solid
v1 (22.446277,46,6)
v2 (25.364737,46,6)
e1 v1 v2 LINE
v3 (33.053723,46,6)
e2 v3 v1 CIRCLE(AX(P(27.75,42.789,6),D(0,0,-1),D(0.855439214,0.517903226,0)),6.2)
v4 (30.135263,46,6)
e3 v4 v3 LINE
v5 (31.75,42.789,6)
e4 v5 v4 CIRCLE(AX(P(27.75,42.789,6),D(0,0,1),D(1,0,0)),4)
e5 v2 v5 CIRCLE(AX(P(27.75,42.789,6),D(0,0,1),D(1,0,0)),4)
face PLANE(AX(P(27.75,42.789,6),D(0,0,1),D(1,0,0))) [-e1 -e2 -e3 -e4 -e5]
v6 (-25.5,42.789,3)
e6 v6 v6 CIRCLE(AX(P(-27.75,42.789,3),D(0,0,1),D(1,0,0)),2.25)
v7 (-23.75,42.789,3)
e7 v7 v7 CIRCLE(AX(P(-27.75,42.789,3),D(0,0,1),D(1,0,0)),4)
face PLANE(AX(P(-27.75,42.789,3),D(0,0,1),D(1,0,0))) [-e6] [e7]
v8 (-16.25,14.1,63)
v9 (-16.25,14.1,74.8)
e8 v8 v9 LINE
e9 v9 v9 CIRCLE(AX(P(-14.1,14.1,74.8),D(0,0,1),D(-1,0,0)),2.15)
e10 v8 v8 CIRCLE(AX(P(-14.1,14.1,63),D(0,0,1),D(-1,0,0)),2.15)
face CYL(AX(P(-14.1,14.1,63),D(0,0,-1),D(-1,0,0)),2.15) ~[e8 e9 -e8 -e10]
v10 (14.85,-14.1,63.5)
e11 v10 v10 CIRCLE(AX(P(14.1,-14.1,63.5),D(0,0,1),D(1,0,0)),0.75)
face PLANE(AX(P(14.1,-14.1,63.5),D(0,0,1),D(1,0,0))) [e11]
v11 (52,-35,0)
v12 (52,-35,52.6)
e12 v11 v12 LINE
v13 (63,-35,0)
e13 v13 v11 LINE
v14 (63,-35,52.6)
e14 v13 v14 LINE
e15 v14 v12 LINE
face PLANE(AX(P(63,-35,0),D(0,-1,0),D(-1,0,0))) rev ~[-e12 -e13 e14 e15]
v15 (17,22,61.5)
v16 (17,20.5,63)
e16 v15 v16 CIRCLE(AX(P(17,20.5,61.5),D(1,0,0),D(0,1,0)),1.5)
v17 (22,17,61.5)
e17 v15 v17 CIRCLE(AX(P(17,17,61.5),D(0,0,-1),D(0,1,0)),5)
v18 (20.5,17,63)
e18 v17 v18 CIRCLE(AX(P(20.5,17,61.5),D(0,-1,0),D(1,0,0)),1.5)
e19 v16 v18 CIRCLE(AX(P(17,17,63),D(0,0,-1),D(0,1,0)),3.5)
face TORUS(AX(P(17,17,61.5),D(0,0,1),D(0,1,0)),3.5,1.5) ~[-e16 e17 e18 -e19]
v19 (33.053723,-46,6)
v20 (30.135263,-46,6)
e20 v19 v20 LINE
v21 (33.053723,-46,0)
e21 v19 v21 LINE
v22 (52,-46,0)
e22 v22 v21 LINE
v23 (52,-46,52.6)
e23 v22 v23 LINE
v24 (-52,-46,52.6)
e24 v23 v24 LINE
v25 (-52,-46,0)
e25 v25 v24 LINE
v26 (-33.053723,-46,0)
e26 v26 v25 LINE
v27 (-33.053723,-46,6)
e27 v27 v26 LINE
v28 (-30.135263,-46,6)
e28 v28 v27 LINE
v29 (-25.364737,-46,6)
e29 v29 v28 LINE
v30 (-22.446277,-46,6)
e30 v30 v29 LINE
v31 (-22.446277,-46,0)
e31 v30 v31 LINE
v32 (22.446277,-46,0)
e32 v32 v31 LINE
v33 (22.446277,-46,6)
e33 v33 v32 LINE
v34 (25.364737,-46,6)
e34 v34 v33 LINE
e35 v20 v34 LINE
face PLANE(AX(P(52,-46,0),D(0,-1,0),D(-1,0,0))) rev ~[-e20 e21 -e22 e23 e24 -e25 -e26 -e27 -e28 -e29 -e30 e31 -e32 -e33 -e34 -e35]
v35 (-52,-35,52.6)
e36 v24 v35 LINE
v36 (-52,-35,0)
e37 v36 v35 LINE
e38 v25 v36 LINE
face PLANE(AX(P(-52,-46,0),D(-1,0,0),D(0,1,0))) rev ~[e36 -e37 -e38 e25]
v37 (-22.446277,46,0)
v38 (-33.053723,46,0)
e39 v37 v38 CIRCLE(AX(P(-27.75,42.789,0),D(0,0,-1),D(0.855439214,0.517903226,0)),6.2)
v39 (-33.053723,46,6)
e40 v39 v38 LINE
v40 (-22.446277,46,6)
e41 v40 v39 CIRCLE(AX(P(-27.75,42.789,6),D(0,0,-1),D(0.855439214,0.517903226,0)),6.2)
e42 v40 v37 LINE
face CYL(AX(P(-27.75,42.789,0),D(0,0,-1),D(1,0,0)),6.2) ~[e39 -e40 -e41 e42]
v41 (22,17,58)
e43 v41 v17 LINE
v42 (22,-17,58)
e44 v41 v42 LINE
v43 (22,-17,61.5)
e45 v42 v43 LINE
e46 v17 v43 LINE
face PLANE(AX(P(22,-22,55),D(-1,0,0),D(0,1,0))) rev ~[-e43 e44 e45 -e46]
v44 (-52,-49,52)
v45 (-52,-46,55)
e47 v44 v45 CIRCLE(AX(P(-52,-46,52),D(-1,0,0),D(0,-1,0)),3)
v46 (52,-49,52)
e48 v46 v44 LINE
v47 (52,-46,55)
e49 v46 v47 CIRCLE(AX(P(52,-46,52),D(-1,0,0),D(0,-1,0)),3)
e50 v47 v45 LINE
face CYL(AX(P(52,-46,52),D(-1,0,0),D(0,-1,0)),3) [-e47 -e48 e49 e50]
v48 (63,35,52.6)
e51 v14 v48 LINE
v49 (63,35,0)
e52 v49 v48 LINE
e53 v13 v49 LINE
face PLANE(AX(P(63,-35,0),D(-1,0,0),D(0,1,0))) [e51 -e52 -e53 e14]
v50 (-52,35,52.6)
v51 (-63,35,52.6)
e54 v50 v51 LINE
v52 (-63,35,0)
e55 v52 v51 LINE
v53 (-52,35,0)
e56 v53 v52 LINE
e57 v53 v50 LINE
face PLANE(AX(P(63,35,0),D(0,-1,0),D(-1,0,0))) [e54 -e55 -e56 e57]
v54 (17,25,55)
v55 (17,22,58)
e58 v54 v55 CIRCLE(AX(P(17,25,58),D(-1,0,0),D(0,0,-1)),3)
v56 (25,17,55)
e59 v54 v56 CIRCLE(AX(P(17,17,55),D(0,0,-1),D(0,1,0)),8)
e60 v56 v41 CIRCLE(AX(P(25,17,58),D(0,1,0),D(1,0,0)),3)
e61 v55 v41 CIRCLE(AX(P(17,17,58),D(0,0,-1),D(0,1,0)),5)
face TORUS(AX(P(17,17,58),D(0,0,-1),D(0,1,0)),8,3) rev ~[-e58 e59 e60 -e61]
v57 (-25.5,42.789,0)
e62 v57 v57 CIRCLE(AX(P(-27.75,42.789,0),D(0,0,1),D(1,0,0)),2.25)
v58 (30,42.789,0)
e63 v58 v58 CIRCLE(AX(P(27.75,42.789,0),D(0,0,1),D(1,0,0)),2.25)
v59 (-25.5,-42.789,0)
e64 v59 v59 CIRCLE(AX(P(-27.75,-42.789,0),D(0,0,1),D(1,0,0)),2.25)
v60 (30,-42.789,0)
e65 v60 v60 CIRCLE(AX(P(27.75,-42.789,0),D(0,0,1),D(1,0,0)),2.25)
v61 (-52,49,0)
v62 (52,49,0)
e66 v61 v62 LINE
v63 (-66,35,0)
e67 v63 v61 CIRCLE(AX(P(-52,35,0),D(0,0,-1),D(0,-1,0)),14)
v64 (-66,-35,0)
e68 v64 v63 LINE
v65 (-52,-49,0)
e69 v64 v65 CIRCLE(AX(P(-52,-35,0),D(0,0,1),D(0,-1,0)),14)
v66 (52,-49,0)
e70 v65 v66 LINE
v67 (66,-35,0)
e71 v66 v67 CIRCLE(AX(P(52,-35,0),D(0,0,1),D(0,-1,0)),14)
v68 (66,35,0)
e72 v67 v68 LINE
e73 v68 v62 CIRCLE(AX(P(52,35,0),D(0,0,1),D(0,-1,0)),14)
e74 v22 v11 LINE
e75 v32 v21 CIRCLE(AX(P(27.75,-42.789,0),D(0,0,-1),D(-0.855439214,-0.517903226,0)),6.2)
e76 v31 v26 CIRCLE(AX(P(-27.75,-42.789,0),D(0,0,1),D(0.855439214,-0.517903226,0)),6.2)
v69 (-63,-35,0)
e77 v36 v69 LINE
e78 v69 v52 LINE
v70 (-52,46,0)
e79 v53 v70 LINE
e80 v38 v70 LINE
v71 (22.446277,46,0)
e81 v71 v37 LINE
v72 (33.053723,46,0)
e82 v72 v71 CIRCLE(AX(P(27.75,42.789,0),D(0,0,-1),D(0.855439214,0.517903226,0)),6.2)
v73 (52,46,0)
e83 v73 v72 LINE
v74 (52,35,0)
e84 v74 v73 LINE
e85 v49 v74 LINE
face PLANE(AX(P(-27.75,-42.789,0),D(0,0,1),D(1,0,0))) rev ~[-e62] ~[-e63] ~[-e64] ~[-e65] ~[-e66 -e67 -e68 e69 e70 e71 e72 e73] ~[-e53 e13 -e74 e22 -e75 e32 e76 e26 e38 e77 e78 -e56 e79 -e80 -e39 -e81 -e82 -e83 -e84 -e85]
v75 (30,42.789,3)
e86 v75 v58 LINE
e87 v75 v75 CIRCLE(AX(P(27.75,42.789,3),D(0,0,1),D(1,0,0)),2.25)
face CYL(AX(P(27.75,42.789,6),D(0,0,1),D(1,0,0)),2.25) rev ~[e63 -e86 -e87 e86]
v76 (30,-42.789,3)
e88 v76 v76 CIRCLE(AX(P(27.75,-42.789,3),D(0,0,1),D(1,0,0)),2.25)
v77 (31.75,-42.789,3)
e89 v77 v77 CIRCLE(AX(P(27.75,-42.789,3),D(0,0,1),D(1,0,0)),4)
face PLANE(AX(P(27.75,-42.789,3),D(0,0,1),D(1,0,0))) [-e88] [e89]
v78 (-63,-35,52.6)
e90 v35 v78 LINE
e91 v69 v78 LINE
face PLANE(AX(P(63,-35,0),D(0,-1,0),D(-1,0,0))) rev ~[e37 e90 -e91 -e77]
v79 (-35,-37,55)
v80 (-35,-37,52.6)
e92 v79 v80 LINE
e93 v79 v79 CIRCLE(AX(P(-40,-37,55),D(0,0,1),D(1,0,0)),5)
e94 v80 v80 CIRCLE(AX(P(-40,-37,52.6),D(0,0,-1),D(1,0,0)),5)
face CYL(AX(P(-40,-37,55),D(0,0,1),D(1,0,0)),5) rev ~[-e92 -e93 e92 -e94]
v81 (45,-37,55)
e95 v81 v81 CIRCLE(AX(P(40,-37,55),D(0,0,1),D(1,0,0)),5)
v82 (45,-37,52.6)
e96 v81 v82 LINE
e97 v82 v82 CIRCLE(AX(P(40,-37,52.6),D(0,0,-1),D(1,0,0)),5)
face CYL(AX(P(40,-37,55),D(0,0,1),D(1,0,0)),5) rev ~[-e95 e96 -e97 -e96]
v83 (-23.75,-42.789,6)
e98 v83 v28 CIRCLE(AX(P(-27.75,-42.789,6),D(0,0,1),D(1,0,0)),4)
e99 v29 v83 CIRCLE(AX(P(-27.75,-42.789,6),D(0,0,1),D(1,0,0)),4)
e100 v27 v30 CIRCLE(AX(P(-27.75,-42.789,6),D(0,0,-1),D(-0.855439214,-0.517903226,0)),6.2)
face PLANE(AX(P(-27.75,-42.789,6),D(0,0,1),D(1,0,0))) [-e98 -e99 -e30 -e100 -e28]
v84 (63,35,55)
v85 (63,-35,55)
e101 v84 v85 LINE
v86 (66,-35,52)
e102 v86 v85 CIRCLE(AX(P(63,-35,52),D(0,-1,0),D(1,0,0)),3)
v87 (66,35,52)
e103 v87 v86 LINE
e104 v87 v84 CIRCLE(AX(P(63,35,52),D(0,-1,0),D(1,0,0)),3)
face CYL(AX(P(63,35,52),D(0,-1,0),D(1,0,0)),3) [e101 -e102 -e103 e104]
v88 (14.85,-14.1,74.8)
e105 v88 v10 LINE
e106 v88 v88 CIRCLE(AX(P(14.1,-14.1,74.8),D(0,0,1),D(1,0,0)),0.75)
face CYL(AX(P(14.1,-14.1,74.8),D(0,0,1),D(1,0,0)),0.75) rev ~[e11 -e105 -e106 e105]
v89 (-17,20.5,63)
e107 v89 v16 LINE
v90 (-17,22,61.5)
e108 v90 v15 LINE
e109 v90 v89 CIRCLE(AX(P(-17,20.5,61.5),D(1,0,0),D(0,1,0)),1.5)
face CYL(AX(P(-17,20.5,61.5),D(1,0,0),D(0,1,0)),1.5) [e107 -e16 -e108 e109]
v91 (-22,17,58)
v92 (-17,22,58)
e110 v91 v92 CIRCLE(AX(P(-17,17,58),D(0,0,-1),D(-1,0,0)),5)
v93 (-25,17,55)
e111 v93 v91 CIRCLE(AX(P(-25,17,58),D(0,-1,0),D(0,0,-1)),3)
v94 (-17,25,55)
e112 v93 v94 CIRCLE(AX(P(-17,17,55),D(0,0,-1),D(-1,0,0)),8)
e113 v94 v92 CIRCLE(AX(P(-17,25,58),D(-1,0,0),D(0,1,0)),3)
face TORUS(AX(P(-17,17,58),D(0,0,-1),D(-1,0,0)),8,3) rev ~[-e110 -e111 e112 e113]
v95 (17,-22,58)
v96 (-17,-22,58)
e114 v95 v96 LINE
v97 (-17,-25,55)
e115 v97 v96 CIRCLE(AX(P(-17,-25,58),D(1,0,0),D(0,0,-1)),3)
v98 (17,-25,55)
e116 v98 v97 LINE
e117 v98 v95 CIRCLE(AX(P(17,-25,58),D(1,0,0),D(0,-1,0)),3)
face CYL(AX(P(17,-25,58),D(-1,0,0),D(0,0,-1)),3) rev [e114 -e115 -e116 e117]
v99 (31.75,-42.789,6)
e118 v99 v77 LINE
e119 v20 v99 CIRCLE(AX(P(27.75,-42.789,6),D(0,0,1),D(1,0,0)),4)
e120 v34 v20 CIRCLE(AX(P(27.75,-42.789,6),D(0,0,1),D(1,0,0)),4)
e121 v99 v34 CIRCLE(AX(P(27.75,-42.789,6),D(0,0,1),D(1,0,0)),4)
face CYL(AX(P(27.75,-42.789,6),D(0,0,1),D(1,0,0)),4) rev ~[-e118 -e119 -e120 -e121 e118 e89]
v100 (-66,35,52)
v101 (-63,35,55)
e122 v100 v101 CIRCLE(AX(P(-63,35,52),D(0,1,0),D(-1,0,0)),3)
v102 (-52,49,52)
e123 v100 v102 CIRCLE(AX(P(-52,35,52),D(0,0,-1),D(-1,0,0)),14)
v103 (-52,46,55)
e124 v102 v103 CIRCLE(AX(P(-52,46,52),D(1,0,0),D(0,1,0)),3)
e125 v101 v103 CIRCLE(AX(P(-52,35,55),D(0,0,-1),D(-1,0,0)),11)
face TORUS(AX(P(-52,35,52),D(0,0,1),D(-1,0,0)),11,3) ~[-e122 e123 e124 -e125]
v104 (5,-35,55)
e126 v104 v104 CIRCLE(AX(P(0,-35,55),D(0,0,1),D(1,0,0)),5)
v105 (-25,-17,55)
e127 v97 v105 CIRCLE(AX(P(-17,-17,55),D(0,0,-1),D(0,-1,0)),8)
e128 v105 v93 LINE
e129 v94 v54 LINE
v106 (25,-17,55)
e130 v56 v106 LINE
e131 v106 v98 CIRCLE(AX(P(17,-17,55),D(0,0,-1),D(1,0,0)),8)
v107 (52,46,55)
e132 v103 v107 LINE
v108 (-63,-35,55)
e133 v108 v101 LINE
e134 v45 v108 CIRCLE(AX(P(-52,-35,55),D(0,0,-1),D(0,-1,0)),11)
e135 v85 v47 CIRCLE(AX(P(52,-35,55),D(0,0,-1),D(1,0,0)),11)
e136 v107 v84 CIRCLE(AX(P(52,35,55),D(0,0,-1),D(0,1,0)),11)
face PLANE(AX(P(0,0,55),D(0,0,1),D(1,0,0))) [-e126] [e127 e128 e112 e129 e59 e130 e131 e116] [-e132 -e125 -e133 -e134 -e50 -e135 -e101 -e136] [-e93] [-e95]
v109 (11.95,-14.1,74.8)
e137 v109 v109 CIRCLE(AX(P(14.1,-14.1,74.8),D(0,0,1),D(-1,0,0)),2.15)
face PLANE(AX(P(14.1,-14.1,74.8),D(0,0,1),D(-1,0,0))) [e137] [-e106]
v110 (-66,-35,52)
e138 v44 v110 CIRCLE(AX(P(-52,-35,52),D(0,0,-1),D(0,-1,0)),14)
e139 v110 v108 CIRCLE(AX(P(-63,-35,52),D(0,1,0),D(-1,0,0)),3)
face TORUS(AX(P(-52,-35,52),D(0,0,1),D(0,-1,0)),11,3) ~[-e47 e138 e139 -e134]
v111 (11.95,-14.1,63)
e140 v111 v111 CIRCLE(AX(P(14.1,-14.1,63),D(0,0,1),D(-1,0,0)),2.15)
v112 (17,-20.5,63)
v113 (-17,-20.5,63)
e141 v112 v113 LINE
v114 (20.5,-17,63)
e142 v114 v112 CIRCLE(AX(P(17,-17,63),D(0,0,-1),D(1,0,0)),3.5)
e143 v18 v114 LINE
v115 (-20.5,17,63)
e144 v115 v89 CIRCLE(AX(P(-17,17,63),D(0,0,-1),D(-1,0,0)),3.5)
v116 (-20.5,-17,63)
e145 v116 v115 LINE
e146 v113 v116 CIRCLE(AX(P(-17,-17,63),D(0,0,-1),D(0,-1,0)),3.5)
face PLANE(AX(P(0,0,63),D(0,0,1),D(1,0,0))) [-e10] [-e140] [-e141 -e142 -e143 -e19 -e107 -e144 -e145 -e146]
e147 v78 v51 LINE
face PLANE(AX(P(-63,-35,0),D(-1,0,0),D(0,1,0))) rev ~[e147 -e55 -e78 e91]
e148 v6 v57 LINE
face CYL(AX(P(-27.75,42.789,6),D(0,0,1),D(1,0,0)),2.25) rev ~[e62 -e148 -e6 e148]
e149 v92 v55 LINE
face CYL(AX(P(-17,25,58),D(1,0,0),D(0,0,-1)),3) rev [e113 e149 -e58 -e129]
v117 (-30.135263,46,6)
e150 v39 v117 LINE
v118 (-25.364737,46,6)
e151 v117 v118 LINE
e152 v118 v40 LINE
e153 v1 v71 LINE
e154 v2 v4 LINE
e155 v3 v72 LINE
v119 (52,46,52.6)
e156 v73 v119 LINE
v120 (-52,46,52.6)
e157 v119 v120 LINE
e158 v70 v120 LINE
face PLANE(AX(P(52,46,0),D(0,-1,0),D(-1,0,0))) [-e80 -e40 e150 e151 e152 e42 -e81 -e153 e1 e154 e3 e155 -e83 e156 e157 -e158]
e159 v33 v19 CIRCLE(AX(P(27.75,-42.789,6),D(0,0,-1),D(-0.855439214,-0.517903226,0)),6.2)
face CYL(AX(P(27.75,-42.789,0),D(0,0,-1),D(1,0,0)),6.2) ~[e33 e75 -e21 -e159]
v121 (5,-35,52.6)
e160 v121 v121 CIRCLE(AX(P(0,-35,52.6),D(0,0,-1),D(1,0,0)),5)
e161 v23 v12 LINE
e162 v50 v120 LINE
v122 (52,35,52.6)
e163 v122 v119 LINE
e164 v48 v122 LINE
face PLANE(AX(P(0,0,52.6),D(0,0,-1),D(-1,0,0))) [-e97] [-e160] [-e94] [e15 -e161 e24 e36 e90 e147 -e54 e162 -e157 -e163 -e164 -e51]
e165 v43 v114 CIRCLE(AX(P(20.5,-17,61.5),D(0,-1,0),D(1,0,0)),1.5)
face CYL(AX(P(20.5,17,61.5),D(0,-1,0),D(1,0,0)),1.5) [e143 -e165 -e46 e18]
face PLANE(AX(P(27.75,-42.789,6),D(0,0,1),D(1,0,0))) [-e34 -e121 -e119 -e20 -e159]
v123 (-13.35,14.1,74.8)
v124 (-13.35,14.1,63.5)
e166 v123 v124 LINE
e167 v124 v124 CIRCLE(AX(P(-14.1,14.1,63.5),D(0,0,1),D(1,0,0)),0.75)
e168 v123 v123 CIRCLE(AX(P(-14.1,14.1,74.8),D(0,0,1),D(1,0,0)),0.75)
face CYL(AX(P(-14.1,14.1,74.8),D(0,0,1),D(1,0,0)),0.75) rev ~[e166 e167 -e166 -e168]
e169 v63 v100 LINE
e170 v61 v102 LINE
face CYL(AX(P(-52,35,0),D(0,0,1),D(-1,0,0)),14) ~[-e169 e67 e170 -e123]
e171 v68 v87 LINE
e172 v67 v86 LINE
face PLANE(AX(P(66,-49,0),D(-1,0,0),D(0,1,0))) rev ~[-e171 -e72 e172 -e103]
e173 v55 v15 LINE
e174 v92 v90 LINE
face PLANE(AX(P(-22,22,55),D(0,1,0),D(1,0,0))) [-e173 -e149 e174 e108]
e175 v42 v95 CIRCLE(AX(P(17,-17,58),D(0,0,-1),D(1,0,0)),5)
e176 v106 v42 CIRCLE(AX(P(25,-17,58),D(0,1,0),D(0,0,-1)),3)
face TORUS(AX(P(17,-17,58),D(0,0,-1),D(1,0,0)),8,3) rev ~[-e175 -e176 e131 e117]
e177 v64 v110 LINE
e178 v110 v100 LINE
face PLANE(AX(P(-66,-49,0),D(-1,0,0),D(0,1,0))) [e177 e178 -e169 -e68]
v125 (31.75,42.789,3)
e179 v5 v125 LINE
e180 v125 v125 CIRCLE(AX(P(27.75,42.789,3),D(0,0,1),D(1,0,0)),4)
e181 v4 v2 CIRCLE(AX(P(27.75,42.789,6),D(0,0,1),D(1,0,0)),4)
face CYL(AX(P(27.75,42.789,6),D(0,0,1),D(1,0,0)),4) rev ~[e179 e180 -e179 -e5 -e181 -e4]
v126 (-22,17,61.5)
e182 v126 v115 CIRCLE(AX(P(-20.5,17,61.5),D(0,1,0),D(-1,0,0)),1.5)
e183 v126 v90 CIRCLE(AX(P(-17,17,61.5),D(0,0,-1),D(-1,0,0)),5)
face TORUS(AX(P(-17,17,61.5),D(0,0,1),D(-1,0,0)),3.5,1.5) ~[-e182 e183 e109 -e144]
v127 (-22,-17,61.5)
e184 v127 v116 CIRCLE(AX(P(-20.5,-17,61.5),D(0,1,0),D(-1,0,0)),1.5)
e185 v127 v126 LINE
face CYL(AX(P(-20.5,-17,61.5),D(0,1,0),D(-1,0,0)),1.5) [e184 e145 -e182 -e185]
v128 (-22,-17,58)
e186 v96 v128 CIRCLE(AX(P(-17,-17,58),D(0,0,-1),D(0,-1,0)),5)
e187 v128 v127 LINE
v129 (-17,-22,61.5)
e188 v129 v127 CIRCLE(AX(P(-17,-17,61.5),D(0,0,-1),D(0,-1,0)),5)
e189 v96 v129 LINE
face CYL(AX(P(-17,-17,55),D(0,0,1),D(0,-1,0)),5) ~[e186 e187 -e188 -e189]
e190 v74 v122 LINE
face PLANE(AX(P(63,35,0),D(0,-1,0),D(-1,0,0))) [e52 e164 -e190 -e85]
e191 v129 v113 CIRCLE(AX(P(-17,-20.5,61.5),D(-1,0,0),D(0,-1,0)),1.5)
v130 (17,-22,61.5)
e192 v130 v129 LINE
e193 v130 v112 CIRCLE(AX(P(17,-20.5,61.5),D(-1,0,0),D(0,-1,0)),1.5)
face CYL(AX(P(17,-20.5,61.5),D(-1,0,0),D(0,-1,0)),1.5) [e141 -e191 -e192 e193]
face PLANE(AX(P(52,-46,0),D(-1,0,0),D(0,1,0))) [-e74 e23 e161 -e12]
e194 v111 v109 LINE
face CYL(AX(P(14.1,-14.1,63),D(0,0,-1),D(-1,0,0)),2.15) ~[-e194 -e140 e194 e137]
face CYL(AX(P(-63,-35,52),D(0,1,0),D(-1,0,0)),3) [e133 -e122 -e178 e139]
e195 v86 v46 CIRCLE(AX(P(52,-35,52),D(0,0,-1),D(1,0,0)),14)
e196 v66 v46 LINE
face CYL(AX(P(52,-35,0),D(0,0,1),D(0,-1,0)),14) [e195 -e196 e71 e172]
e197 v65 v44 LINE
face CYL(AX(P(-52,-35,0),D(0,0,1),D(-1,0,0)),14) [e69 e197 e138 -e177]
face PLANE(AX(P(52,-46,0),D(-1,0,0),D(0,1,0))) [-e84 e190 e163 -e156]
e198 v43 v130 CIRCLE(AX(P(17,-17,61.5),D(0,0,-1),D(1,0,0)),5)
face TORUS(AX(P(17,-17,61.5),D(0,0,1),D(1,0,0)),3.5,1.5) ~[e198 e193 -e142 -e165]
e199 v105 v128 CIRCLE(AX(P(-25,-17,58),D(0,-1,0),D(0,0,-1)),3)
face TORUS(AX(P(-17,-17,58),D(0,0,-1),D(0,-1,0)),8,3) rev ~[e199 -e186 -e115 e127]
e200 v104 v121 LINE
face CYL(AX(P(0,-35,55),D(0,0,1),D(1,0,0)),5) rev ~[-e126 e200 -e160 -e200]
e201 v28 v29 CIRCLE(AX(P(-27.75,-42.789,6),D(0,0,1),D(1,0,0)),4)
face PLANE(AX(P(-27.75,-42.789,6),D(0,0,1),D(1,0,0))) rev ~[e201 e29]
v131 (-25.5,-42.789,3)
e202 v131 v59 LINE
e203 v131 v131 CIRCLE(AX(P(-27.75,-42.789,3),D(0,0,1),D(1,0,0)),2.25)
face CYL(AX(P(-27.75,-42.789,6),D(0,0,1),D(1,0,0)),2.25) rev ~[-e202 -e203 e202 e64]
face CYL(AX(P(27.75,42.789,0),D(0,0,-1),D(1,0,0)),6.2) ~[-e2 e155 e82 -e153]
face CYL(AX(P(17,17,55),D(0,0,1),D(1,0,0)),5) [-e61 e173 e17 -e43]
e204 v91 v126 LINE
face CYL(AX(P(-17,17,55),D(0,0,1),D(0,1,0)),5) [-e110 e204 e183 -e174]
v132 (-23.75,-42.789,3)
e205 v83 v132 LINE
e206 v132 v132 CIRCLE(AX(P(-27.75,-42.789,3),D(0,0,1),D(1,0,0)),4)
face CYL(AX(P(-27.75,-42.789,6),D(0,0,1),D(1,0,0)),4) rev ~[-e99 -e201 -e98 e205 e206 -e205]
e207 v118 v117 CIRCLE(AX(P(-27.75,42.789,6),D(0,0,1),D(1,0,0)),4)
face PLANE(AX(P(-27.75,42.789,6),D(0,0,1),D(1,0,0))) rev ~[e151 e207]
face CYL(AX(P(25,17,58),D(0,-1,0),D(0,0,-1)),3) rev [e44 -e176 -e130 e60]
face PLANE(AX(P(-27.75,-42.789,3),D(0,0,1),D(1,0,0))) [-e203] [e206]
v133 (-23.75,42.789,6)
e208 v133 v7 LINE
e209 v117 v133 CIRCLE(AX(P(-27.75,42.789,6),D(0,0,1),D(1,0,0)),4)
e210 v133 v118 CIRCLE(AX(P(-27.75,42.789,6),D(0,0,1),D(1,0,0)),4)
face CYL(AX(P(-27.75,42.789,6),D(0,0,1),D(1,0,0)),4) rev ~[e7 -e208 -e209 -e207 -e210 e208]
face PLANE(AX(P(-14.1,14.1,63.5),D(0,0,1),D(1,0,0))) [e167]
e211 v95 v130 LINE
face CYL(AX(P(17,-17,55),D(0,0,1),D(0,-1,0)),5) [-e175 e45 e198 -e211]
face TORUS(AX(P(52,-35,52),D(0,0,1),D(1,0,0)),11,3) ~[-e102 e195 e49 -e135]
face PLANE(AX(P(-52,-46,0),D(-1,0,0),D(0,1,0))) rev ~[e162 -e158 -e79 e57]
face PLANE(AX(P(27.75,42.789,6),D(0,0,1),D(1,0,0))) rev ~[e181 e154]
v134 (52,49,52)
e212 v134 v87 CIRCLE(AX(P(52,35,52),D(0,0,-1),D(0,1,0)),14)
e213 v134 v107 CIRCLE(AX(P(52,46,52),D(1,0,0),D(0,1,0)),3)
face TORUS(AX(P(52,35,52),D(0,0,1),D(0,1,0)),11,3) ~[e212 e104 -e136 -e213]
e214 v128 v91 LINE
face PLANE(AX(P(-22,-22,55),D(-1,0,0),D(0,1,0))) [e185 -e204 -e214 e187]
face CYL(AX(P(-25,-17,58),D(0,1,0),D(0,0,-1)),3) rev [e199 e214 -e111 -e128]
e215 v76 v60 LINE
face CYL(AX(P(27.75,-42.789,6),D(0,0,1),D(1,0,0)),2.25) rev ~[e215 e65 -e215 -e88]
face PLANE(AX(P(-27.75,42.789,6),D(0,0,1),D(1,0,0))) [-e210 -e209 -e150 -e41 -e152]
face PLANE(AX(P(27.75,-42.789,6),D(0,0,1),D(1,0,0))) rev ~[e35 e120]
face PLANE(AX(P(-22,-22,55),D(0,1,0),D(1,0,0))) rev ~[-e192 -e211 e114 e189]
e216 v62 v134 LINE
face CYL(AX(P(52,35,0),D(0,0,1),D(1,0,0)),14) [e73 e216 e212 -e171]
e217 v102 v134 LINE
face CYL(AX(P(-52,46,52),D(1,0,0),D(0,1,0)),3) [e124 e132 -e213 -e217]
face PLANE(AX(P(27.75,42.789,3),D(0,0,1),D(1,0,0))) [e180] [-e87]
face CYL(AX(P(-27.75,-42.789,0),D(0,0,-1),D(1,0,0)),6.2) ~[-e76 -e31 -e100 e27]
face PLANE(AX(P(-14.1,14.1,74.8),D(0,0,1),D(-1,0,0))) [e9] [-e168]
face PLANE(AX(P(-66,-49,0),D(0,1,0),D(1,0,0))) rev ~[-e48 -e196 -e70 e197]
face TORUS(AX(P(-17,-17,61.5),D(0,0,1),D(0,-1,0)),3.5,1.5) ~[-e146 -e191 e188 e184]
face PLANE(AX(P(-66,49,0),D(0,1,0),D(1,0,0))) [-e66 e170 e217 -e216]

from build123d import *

# Parameters (mm, degrees)
SKETCH1_W           = 132
SKETCH1_H           = 98
BOSS_EXTRUDE1_DEPTH = 55
FILLET1_R           = 14
SKETCH7_R           = 6
BOSS_EXTRUDE2_DEPTH = 6
SKETCH8_R           = 2.25
CUT_EXTRUDE10_DEPTH = 6.2
SKETCH9_R           = 4
CUT_EXTRUDE11_DEPTH = 3
FILLET2_R           = 3
SKETCH10_W          = 44
SKETCH10_H          = 44
BOSS_EXTRUDE3_DEPTH = 8
FILLET3_R           = 5
FILLET4_R           = 1.5
SKETCH11_R          = 2.15
BOSS_EXTRUDE4_DEPTH = 11.8
SKETCH12_R          = 0.75
CUT_EXTRUDE12_DEPTH = 11.3
SKETCH13_R          = 5
CUT_EXTRUDE13_DEPTH = 3.2
FILLET5_R           = 3
SKETCH14_W          = 104
SKETCH14_H          = 92
CUT_EXTRUDE14_DEPTH = 52.6
SKETCH15_W          = 126
SKETCH15_H          = 70
CUT_EXTRUDE15_DEPTH = 52.6
SKETCH17_R          = 6.2
BOSS_EXTRUDE5_DEPTH = 6
SKETCH18_R          = 2.25
CUT_EXTRUDE17_DEPTH = 6.2
SKETCH19_R          = 4
CUT_EXTRUDE18_DEPTH = 3


with BuildPart() as part:
    # Sketch1 → Boss-Extrude1 (new body)
    with BuildSketch(Plane.XY):
        Rectangle(SKETCH1_W, SKETCH1_H)
    extrude(amount=BOSS_EXTRUDE1_DEPTH)

    # Fillet1
    fillet1_edges = [part.edges().sort_by_distance(p)[0] for p in [
        (-66, 49, 27.5),
        (66, 49, 27.5),
        (66, -49, 27.5),
        (-66, -49, 27.5),
    ]]
    fillet(fillet1_edges, radius=FILLET1_R)

    # Sketch7 → Boss-Extrude2 (add)
    with BuildSketch(Plane.XY):
        with Locations((-27.75, -42.789)):
            Circle(SKETCH7_R)
        with Locations((27.75, -42.789)):
            Circle(SKETCH7_R)
        with Locations((-27.75, 42.789)):
            Circle(SKETCH7_R)
        with Locations((27.75, 42.789)):
            Circle(SKETCH7_R)
    extrude(amount=BOSS_EXTRUDE2_DEPTH)

    # Sketch8 → Cut-Extrude10 (cut)
    with BuildSketch(Plane.XY.offset(6)):
        with Locations((-27.75, -42.789)):
            Circle(SKETCH8_R)
        with Locations((27.75, -42.789)):
            Circle(SKETCH8_R)
        with Locations((-27.75, 42.789)):
            Circle(SKETCH8_R)
        with Locations((27.75, 42.789)):
            Circle(SKETCH8_R)
    extrude(amount=-CUT_EXTRUDE10_DEPTH, mode=Mode.SUBTRACT)

    # Sketch9 → Cut-Extrude11 (cut)
    with BuildSketch(Plane.XY.offset(6)):
        with Locations((-27.75, -42.789)):
            Circle(SKETCH9_R)
        with Locations((27.75, -42.789)):
            Circle(SKETCH9_R)
        with Locations((-27.75, 42.789)):
            Circle(SKETCH9_R)
        with Locations((27.75, 42.789)):
            Circle(SKETCH9_R)
    extrude(amount=-CUT_EXTRUDE11_DEPTH, mode=Mode.SUBTRACT)

    # Fillet2
    fillet2_edges = [part.edges().sort_by_distance(p)[0] for p in [
        (-66, 0, 55),
        (0, 49, 55),
        (0, -49, 55),
        (66, 0, 55),
        (-61.899494937, -44.899494937, 55),
        (61.899494937, -44.899494937, 55),
        (61.899494937, 44.899494937, 55),
        (-61.899494937, 44.899494937, 55),
    ]]
    fillet(fillet2_edges, radius=FILLET2_R)

    # Sketch10 → Boss-Extrude3 (add)
    with BuildSketch(Plane.XY.offset(55)):
        Rectangle(SKETCH10_W, SKETCH10_H)
    extrude(amount=BOSS_EXTRUDE3_DEPTH)

    # Fillet3
    fillet3_edges = [part.edges().sort_by_distance(p)[0] for p in [
        (-22, 22, 59),
        (-22, -22, 59),
        (22, -22, 59),
        (22, 22, 59),
    ]]
    fillet(fillet3_edges, radius=FILLET3_R)

    # Fillet4
    fillet4_edges = [part.edges().sort_by_distance(p)[0] for p in [
        (-22, 0, 63),
        (0, 22, 63),
        (0, -22, 63),
        (22, 0, 63),
        (-20.535533906, -20.535533906, 63),
        (20.535533906, -20.535533906, 63),
        (20.535533906, 20.535533906, 63),
        (-20.535533906, 20.535533906, 63),
    ]]
    fillet(fillet4_edges, radius=FILLET4_R)

    # Sketch11 → Boss-Extrude4 (add)
    with BuildSketch(Plane.XY.offset(63)):
        with Locations(Location((-14.1, 14.1, 0), (0, 0, 180))):
            Circle(SKETCH11_R)
        with Locations(Location((14.1, -14.1, 0), (0, 0, 180))):
            Circle(SKETCH11_R)
    extrude(amount=BOSS_EXTRUDE4_DEPTH)

    # Sketch12 → Cut-Extrude12 (cut)
    with BuildSketch(Plane.XY.offset(74.8)):
        with Locations((-14.1, 14.1)):
            Circle(SKETCH12_R)
        with Locations((14.1, -14.1)):
            Circle(SKETCH12_R)
    extrude(amount=-CUT_EXTRUDE12_DEPTH, mode=Mode.SUBTRACT)

    # Sketch13 → Cut-Extrude13 (cut)
    with BuildSketch(Plane.XY.offset(55)):
        with Locations((-40, -37)):
            Circle(SKETCH13_R)
        with Locations((40, -37)):
            Circle(SKETCH13_R)
        with Locations((0, -35)):
            Circle(SKETCH13_R)
    extrude(amount=-CUT_EXTRUDE13_DEPTH, mode=Mode.SUBTRACT)

    # Fillet5
    fillet5_edges = [part.edges().sort_by_distance(p)[0] for p in [
        (-22, 0, 55),
        (0, 22, 55),
        (22, 0, 55),
        (0, -22, 55),
        (-20.535533906, 20.535533906, 55),
        (20.535533906, 20.535533906, 55),
        (20.535533906, -20.535533906, 55),
        (-20.535533906, -20.535533906, 55),
    ]]
    fillet(fillet5_edges, radius=FILLET5_R)

    # Sketch14 → Cut-Extrude14 (cut)
    with BuildSketch(Plane(origin=(0, 0, 0), x_dir=(-1, 0, 0), z_dir=(0, 0, -1))):
        Rectangle(SKETCH14_W, SKETCH14_H)
    extrude(amount=-CUT_EXTRUDE14_DEPTH, mode=Mode.SUBTRACT)

    # Sketch15 → Cut-Extrude15 (cut)
    with BuildSketch(Plane(origin=(0, 0, 0), x_dir=(-1, 0, 0), z_dir=(0, 0, -1))):
        Rectangle(SKETCH15_W, SKETCH15_H)
    extrude(amount=-CUT_EXTRUDE15_DEPTH, mode=Mode.SUBTRACT)

    # Sketch17 → Boss-Extrude5 (add)
    with BuildSketch(Plane.XY):
        with Locations((-27.75, -42.789)):
            Circle(SKETCH17_R)
        with Locations((27.75, -42.789)):
            Circle(SKETCH17_R)
        with Locations((-27.75, 42.789)):
            Circle(SKETCH17_R)
        with Locations((27.75, 42.789)):
            Circle(SKETCH17_R)
    extrude(amount=BOSS_EXTRUDE5_DEPTH)

    # Sketch18 → Cut-Extrude17 (cut)
    with BuildSketch(Plane.XY.offset(6)):
        with Locations((-27.75, -42.789)):
            Circle(SKETCH18_R)
        with Locations((27.75, -42.789)):
            Circle(SKETCH18_R)
        with Locations((-27.75, 42.789)):
            Circle(SKETCH18_R)
        with Locations((27.75, 42.789)):
            Circle(SKETCH18_R)
    extrude(amount=-CUT_EXTRUDE17_DEPTH, mode=Mode.SUBTRACT)

    # Sketch19 → Cut-Extrude18 (cut)
    with BuildSketch(Plane.XY.offset(6)):
        with Locations((-27.75, -42.789)):
            Circle(SKETCH19_R)
        with Locations((27.75, -42.789)):
            Circle(SKETCH19_R)
        with Locations((-27.75, 42.789)):
            Circle(SKETCH19_R)
        with Locations((27.75, 42.789)):
            Circle(SKETCH19_R)
    extrude(amount=-CUT_EXTRUDE18_DEPTH, mode=Mode.SUBTRACT)


solid = part.part
